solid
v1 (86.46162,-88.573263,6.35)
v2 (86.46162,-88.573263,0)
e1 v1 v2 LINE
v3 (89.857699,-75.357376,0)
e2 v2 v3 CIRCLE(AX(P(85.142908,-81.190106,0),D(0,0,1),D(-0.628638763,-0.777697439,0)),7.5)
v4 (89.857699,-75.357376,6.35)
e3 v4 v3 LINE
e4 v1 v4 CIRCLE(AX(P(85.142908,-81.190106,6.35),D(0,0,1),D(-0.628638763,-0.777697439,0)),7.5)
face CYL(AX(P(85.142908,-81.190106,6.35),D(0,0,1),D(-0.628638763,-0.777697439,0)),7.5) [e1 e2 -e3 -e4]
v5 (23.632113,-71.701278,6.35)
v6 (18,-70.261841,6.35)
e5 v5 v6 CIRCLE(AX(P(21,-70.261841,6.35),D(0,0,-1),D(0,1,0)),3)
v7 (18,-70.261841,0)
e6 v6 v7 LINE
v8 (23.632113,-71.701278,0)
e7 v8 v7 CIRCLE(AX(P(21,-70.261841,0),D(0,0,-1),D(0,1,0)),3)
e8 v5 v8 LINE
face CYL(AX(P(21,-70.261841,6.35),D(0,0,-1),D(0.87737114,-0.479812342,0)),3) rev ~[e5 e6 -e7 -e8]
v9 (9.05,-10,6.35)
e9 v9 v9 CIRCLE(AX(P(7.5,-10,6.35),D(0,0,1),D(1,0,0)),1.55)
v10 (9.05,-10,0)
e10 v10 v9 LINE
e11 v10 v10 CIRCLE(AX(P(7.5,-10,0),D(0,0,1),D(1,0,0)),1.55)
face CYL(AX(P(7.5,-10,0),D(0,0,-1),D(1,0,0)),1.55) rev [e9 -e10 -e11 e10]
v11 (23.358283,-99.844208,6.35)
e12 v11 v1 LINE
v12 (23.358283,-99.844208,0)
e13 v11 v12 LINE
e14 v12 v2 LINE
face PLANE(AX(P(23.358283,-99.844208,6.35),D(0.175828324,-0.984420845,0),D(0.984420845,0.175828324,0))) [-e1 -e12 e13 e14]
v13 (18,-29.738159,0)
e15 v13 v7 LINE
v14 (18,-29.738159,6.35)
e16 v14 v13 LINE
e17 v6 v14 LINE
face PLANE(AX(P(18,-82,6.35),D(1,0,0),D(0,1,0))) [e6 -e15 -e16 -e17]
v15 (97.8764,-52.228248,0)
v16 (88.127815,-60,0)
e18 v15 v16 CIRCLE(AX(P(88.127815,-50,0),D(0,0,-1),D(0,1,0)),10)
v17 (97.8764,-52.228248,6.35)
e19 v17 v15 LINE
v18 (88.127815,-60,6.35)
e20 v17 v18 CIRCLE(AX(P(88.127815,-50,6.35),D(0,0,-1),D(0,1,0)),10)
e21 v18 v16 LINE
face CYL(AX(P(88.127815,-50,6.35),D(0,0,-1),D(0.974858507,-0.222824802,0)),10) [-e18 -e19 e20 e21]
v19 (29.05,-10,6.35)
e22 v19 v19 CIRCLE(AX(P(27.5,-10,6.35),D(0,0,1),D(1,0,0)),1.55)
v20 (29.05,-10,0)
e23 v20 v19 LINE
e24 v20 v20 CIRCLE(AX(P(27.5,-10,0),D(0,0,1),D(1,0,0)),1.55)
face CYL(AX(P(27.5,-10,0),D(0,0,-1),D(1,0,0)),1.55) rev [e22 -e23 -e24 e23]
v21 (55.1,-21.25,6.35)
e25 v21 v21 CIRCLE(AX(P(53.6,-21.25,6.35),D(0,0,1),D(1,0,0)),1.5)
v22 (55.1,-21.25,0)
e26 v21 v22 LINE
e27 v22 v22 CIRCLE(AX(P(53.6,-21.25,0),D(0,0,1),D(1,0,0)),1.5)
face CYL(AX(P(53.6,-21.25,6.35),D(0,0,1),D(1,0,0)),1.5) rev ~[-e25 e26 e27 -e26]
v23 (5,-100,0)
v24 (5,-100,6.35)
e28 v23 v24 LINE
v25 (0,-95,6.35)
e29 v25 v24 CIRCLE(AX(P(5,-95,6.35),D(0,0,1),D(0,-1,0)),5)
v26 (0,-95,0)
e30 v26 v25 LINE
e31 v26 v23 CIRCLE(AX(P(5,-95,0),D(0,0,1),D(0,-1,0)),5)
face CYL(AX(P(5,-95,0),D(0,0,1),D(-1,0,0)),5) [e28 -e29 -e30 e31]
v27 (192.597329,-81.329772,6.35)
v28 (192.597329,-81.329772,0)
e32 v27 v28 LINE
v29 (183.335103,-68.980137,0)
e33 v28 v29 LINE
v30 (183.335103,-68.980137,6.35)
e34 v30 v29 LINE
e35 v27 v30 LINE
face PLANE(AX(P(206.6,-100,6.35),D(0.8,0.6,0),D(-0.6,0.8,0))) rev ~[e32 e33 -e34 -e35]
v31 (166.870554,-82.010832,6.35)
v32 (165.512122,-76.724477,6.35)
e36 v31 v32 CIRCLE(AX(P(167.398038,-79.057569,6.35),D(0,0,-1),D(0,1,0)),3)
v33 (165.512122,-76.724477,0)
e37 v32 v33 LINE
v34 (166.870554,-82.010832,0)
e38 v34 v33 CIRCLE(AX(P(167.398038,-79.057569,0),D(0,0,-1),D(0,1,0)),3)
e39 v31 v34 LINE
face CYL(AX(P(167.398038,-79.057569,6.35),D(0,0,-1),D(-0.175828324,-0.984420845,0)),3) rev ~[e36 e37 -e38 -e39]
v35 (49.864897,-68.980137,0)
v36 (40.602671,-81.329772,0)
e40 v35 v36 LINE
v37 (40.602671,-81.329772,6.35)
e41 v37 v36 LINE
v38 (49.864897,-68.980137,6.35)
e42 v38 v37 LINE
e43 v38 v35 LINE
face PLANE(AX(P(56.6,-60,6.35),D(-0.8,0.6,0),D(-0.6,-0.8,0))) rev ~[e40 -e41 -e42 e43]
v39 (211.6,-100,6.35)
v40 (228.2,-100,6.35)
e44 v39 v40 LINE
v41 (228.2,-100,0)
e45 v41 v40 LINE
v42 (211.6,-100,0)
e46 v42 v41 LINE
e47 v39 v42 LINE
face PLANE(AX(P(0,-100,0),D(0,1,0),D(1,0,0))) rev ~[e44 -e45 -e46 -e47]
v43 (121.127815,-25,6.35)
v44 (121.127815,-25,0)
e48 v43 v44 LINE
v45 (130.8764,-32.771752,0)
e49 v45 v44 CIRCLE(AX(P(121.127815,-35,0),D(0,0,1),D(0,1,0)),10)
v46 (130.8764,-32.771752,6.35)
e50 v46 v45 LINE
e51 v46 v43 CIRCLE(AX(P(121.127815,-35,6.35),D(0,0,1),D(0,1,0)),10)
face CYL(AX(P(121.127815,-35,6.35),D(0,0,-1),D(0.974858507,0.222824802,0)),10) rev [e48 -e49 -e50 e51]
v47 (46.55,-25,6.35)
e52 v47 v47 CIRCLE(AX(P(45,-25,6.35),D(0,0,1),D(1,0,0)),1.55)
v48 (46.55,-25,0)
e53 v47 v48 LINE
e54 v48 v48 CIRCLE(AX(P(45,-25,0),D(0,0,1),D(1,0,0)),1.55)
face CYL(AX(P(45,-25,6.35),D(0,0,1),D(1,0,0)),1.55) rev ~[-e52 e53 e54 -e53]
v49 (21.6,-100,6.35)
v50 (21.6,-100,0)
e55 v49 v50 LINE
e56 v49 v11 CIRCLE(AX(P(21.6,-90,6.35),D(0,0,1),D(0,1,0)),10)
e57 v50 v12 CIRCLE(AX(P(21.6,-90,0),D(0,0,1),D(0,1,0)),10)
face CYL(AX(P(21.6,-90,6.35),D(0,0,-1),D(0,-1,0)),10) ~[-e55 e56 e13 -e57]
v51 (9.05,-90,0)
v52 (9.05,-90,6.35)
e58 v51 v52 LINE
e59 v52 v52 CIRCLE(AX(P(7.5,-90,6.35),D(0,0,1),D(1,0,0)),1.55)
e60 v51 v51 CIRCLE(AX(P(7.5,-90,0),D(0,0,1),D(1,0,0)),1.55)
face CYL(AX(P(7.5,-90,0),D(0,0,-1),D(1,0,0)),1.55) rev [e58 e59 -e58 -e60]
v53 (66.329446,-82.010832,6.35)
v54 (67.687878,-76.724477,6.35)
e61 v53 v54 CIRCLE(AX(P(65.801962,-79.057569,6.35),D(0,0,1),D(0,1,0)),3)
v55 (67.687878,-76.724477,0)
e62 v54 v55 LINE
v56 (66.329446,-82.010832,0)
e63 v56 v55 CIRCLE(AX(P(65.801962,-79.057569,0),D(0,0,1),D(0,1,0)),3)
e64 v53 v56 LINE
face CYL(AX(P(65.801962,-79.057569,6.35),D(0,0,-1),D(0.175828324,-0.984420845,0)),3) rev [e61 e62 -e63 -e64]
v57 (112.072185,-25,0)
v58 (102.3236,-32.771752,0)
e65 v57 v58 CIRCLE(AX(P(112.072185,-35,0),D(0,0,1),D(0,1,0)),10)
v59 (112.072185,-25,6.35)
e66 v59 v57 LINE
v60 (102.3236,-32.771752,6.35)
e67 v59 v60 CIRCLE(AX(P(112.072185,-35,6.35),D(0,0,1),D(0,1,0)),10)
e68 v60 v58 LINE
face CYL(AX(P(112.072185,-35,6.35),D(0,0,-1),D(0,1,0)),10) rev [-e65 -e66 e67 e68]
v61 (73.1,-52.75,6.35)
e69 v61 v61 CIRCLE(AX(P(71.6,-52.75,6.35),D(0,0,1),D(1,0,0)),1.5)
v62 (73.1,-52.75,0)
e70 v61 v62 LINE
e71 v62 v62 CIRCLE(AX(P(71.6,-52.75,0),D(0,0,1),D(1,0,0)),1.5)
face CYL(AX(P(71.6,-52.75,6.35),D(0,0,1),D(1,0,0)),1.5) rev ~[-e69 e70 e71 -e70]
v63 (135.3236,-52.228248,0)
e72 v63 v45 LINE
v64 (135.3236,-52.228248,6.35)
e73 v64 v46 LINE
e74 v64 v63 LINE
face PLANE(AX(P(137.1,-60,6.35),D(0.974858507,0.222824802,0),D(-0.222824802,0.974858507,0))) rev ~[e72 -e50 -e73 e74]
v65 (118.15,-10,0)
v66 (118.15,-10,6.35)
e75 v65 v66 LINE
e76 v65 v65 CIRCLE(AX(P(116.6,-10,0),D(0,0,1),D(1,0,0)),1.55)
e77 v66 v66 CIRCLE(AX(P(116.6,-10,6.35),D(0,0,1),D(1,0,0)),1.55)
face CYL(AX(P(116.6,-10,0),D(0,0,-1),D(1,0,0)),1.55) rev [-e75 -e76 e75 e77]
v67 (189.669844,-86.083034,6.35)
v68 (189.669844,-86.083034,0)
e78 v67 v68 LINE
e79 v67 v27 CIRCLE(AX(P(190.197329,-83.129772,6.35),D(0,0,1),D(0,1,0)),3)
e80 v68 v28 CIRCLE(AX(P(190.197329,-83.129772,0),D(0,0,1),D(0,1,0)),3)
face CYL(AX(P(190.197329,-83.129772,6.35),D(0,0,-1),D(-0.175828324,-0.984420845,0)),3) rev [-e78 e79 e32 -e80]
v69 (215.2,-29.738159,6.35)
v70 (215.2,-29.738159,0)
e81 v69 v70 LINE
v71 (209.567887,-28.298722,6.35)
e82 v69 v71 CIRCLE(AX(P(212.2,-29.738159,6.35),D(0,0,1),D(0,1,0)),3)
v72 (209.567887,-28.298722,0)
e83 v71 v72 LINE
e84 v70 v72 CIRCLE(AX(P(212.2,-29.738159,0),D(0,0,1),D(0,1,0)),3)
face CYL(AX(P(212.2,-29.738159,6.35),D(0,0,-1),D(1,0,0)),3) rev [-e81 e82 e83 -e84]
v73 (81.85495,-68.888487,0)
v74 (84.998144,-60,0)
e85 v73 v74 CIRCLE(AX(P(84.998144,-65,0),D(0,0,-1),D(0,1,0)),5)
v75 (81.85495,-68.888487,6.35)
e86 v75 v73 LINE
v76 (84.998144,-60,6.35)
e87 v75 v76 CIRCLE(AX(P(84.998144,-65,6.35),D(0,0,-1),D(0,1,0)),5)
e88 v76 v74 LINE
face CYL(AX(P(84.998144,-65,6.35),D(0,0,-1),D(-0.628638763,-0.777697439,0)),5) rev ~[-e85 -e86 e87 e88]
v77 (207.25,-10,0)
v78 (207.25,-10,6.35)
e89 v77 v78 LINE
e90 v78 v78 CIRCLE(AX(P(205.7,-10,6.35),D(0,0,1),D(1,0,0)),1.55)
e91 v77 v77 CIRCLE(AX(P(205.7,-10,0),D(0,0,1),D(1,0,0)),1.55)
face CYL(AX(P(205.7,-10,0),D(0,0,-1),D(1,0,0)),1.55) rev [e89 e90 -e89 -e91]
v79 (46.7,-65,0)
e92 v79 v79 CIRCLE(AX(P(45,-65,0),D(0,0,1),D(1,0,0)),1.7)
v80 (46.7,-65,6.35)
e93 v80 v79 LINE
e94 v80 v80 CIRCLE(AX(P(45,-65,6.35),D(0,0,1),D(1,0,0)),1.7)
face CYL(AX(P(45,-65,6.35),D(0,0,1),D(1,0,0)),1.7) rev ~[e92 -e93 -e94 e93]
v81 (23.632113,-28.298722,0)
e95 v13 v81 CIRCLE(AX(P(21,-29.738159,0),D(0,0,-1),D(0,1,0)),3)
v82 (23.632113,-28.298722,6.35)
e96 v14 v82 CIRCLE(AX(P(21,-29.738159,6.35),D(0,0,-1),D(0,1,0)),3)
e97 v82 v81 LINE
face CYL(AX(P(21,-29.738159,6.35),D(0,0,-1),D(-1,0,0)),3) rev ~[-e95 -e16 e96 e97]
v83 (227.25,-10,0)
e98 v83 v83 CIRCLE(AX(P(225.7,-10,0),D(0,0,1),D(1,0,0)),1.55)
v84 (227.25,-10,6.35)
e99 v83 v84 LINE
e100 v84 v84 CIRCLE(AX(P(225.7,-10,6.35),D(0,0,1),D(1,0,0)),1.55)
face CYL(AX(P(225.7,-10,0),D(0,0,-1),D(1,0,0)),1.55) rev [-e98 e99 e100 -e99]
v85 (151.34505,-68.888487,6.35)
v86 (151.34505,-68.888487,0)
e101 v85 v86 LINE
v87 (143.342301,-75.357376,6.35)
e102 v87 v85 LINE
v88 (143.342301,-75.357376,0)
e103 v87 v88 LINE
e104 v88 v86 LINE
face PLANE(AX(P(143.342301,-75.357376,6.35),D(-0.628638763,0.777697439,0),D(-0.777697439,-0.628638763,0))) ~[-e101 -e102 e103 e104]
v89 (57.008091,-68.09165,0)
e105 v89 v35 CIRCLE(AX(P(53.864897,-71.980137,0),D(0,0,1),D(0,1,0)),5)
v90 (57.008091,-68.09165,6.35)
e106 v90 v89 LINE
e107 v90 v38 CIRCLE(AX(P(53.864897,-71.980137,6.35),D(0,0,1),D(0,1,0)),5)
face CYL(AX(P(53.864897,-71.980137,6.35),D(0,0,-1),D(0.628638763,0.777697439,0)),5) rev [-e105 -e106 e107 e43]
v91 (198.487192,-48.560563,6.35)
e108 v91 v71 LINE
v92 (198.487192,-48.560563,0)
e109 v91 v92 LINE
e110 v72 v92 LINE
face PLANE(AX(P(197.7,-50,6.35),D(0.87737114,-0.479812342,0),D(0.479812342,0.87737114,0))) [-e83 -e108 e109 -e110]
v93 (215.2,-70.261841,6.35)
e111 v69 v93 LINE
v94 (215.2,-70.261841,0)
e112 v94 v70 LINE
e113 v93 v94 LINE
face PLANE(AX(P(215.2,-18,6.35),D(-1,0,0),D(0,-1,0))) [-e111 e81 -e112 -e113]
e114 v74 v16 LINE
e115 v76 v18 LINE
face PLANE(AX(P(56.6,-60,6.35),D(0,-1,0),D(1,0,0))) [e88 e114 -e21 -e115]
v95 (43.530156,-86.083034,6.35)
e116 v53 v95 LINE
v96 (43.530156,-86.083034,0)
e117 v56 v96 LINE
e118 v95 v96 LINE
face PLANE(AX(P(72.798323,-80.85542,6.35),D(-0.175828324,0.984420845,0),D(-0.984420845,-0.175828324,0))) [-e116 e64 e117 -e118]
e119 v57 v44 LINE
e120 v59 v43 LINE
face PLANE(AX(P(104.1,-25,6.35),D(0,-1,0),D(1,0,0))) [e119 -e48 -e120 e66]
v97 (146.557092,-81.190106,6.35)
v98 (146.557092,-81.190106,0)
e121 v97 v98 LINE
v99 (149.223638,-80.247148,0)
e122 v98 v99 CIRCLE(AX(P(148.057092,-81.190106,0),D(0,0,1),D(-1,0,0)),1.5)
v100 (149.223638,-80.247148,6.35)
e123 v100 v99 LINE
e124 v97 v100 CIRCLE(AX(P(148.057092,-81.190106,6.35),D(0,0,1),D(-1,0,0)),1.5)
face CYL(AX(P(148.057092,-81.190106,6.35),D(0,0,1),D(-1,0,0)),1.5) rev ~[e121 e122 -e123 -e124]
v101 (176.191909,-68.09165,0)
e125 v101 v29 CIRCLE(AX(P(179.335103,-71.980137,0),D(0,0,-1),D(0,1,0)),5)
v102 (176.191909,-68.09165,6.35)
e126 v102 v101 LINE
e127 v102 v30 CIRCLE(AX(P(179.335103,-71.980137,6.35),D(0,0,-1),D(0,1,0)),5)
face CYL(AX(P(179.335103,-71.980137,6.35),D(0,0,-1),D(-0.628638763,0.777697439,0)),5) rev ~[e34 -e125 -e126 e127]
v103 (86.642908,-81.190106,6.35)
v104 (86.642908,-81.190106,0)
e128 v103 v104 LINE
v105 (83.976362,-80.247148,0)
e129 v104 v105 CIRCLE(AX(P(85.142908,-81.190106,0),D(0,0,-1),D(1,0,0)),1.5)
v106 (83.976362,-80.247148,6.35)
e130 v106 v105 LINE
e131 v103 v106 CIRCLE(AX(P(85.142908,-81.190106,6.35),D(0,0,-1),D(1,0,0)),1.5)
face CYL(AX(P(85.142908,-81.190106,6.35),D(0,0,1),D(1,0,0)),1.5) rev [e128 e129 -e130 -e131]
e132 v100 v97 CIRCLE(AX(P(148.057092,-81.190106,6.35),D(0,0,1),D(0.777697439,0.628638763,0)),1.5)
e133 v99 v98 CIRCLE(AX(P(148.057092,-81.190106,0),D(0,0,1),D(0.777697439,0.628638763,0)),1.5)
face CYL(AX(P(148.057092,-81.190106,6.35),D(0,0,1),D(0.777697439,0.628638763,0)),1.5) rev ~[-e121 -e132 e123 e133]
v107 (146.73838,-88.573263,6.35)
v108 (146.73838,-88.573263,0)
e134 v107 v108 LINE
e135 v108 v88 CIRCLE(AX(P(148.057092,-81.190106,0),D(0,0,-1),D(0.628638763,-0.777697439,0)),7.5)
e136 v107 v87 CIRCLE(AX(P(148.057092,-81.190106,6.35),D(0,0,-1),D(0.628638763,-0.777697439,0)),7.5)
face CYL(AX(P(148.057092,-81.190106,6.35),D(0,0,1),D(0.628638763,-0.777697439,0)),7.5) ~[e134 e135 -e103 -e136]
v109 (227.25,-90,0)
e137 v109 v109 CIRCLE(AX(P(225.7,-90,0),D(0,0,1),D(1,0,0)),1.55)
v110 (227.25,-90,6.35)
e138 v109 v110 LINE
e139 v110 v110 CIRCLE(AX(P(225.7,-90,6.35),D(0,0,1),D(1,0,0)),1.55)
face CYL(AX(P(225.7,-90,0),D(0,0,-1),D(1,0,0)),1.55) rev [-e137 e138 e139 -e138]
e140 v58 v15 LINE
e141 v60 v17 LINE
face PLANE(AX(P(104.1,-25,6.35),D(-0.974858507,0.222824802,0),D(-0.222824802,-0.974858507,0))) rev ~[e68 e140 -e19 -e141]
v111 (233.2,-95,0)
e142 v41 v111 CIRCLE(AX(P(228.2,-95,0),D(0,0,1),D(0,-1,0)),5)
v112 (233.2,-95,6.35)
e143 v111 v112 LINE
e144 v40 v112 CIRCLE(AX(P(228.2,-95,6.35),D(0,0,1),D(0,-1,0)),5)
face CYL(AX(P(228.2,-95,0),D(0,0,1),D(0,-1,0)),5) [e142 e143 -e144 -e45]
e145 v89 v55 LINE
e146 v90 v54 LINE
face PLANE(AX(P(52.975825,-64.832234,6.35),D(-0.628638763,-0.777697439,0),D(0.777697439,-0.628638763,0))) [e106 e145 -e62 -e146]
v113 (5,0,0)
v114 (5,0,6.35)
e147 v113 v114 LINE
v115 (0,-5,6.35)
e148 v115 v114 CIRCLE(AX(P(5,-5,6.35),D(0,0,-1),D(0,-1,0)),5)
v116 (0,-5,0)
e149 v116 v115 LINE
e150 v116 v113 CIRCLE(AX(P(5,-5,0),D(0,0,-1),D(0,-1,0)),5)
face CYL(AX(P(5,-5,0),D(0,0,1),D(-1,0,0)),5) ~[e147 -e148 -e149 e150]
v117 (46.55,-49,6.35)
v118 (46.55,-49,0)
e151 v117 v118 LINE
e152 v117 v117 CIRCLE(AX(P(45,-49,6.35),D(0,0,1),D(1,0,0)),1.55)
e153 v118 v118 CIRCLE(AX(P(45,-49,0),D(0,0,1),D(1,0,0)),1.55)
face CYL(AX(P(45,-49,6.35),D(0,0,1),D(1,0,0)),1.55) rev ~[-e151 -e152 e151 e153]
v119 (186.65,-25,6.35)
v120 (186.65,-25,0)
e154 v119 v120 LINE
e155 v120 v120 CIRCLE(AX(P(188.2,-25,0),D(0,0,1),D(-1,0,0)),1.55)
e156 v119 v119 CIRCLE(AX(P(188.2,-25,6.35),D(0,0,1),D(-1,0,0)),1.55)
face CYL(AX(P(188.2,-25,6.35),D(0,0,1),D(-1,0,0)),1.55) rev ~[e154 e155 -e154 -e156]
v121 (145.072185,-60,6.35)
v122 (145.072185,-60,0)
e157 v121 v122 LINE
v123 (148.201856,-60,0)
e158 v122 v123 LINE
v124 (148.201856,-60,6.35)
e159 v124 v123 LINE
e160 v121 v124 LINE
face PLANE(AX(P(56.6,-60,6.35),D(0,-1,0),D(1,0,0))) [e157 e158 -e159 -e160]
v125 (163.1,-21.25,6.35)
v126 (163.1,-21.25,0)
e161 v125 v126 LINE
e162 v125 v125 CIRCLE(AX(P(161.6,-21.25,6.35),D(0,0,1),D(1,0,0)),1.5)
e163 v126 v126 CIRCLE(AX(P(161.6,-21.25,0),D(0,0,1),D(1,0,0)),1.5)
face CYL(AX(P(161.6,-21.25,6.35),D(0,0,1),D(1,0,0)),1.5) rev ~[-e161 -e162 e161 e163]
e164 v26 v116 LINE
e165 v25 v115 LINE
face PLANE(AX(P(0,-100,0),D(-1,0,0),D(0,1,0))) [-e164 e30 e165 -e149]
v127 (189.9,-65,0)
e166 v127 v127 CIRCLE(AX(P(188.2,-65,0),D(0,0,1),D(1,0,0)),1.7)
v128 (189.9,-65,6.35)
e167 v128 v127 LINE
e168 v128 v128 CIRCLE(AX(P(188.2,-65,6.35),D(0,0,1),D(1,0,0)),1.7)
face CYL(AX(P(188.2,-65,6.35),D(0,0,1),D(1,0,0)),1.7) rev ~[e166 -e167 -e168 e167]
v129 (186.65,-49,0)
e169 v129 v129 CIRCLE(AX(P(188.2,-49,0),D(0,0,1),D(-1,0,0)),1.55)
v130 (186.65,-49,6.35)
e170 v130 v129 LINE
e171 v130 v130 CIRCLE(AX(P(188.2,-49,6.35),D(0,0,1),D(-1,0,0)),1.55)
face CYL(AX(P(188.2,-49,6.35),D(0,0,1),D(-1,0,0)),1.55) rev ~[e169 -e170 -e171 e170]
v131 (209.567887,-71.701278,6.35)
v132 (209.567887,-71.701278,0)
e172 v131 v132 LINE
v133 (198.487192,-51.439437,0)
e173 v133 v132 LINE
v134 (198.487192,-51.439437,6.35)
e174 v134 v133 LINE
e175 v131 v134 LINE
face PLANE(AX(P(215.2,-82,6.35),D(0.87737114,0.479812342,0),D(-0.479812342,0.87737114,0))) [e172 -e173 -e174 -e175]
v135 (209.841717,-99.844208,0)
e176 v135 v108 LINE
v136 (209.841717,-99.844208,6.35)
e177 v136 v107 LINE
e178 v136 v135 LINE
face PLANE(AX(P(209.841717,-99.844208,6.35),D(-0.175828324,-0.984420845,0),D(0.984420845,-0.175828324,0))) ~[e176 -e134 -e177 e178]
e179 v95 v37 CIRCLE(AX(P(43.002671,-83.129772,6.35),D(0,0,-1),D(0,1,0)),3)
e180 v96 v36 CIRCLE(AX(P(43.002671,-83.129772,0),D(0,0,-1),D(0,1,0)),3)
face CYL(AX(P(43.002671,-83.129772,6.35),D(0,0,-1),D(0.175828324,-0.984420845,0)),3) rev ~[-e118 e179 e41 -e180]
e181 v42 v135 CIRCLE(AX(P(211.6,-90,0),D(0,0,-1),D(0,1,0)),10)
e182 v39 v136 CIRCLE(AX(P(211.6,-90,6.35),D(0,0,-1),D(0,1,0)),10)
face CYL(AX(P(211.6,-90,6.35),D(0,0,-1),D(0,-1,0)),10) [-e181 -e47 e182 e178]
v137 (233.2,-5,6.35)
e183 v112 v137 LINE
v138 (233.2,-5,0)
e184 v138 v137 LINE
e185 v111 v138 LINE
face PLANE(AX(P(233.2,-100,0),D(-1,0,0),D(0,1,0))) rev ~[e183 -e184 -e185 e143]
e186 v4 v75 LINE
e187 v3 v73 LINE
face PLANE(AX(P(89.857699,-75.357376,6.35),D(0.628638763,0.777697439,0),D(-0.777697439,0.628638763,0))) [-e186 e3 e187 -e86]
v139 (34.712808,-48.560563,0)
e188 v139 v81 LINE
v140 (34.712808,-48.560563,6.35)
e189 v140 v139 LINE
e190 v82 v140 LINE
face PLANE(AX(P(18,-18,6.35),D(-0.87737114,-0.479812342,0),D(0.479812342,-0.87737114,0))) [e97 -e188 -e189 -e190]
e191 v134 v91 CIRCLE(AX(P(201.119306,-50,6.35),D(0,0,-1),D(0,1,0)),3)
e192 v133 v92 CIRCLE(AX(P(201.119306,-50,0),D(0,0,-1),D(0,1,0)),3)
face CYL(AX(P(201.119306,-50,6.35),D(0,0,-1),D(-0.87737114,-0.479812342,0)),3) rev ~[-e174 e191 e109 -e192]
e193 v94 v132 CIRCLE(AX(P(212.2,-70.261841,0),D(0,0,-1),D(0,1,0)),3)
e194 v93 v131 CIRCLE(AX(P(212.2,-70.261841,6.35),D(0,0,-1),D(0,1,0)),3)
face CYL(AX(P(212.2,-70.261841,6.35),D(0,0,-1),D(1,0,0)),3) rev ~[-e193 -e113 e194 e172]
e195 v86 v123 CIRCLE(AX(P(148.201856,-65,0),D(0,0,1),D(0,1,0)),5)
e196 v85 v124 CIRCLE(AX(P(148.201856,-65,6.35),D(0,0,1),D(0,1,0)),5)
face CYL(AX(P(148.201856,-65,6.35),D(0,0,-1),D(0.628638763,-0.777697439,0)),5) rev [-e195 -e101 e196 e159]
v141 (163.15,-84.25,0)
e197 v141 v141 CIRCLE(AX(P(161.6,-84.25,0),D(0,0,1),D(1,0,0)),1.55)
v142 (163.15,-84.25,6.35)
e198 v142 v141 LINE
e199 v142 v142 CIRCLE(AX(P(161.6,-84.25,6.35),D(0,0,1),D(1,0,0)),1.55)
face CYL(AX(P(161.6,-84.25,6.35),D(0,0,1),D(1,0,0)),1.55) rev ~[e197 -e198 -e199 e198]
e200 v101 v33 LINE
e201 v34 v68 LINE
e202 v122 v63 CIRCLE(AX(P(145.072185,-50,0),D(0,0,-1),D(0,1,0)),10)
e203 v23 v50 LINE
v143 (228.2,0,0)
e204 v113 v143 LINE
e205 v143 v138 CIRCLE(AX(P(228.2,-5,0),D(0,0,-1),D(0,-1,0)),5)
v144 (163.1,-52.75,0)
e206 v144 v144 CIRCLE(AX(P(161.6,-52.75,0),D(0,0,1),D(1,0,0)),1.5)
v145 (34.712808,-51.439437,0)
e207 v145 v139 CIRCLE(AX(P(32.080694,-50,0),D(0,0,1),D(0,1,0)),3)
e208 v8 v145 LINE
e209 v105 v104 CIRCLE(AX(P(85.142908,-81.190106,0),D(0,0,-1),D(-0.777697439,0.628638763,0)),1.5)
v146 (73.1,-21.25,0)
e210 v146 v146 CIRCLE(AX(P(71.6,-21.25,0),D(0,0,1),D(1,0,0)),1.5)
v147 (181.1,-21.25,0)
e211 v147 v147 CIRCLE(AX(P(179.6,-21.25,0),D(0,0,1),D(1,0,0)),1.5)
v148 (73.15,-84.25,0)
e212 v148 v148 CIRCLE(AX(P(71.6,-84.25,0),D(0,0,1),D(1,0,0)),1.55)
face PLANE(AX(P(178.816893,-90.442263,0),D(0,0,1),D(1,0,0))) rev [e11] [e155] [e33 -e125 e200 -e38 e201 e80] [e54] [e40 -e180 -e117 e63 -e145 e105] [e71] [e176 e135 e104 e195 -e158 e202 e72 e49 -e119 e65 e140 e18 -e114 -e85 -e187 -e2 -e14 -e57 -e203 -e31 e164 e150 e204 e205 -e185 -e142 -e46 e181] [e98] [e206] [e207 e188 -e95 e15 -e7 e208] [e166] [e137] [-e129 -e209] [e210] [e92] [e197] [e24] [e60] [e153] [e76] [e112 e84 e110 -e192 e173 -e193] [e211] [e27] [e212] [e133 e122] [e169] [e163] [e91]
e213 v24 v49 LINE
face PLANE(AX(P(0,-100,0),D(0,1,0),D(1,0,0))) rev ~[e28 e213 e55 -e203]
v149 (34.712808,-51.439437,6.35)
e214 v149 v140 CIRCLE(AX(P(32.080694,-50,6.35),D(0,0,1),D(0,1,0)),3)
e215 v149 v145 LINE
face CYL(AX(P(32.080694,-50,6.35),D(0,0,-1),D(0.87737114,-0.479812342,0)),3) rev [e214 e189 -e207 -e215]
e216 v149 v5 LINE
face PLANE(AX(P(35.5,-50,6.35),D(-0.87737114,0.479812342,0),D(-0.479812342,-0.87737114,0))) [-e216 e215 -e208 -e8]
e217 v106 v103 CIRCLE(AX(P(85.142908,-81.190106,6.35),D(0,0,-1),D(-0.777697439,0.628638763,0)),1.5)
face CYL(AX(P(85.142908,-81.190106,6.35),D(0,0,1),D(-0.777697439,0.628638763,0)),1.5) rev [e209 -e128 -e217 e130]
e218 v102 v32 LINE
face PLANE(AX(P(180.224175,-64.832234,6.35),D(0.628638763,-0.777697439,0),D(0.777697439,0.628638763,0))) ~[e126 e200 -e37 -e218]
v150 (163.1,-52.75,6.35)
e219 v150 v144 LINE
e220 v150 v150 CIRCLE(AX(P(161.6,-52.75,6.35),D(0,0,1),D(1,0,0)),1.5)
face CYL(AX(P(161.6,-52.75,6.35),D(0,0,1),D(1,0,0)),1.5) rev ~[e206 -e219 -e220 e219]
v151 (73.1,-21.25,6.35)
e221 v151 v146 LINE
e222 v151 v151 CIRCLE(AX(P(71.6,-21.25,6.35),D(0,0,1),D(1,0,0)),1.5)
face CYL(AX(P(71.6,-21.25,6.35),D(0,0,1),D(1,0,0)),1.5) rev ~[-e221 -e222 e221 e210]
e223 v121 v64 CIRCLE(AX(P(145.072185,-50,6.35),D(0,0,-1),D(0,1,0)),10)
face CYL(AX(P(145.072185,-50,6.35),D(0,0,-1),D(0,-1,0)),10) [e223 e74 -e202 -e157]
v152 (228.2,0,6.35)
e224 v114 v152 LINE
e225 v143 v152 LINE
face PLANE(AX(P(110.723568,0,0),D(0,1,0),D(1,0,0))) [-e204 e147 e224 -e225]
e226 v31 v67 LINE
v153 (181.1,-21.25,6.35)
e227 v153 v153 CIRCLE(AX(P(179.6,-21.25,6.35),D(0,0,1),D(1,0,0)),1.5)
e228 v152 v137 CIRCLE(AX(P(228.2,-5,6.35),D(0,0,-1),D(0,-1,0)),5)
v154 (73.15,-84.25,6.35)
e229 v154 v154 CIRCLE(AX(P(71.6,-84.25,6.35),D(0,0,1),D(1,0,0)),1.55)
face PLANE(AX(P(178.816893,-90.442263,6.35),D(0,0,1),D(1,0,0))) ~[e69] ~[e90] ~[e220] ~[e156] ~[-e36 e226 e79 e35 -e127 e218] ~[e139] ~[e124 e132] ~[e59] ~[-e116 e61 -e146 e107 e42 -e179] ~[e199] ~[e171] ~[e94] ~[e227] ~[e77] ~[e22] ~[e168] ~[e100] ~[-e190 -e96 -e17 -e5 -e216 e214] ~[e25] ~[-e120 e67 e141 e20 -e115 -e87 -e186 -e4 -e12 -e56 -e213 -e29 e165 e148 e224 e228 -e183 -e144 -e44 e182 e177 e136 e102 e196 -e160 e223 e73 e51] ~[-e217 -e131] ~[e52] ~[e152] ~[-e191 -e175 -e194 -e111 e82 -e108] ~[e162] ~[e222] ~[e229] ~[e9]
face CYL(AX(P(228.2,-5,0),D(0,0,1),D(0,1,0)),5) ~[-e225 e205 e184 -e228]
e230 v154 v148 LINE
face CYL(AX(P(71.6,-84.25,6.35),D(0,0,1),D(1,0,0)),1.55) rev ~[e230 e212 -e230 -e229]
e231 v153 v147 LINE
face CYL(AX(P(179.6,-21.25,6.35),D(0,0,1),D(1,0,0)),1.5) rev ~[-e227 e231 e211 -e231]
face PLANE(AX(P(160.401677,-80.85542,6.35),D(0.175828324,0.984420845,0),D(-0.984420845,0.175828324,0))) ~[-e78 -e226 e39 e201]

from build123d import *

# Parameters (mm, degrees)
SKETCH1_W           = 233.2
SKETCH1_H           = 100
SKETCH1_R           = 1.55
BOSS_EXTRUDE1_DEPTH = 6.35
FILLET1_R           = 5
SKETCH2_R           = 1.55
CUT_EXTRUDE1_DEPTH  = 6.35
SKETCH3_W           = 10
SKETCH3_H           = 12.7
BOSS_EXTRUDE2_DEPTH = 6.35
FILLET2_R           = 5
FILLET3_R           = 10
FILLET4_R           = 2
FILLET5_R           = 20
FILLET6_R           = 5
CUT_EXTRUDE2_DEPTH  = 10
SKETCH5_W           = 120
SKETCH5_H           = 40
CUT_EXTRUDE4_DEPTH  = 10
SKETCH6_R           = 1.5
CUT_EXTRUDE5_DEPTH  = 10
FILLET7_R           = 10
SKETCH7_W           = 25
SKETCH7_H           = 35
CUT_EXTRUDE6_DEPTH  = 10
FILLET9_R           = 10
SKETCH8_R           = 1.5
CUT_EXTRUDE7_DEPTH  = 10
BOSS_EXTRUDE3_DEPTH = 6.35
FILLET10_R          = 5
BOSS_EXTRUDE4_DEPTH = 6.35
FILLET11_R          = 3
FILLET12_R          = 3
CUT_EXTRUDE8_DEPTH  = 10
FILLET13_R          = 3
CUT_EXTRUDE9_DEPTH  = 10
SKETCH13_R          = 1.55
CUT_EXTRUDE10_DEPTH = 10


with BuildPart() as part:
    # Sketch1 → Boss-Extrude1 (new body)
    with BuildSketch(Plane.XY):
        with Locations((116.6, -50)):
            Rectangle(SKETCH1_W, SKETCH1_H)
        with Locations((7.5, -10)):
            Circle(SKETCH1_R, mode=Mode.SUBTRACT)
        with Locations((225.7, -10)):
            Circle(SKETCH1_R, mode=Mode.SUBTRACT)
        with Locations((7.5, -90)):
            Circle(SKETCH1_R, mode=Mode.SUBTRACT)
        with Locations((225.7, -90)):
            Circle(SKETCH1_R, mode=Mode.SUBTRACT)
        with Locations((27.5, -10)):
            Circle(SKETCH1_R, mode=Mode.SUBTRACT)
        with Locations((205.7, -10)):
            Circle(SKETCH1_R, mode=Mode.SUBTRACT)
        with Locations((116.6, -10)):
            Circle(SKETCH1_R, mode=Mode.SUBTRACT)
    extrude(amount=BOSS_EXTRUDE1_DEPTH)

    # Fillet1
    fillet1_edges = [part.edges().sort_by_distance(p)[0] for p in [
        (233.2, -100, 3.175),
        (0, -100, 3.175),
        (0, 0, 3.175),
        (233.2, 0, 3.175),
    ]]
    fillet(fillet1_edges, radius=FILLET1_R)

    # Sketch2 → Cut-Extrude1 (cut)
    with BuildSketch(Plane.XY.offset(6.35)):
        with Locations((45, -25)):
            Circle(SKETCH2_R)
        with Locations((45, -49)):
            Circle(SKETCH2_R)
        with Locations(Location((188.2, -49, 0), (0, 0, 180))):
            Circle(SKETCH2_R)
        with Locations(Location((188.2, -25, 0), (0, 0, 180))):
            Circle(SKETCH2_R)
    extrude(amount=-CUT_EXTRUDE1_DEPTH, mode=Mode.SUBTRACT)

    # Sketch3 → Boss-Extrude2 (add)
    with BuildSketch(Plane.XY.offset(6.35)):
        with Locations((125.723568259, 6.35)):
            Rectangle(SKETCH3_W, SKETCH3_H)
        Polygon((120.723568259, 16.7), (120.723568259, 12.7), (130.723568259, 12.7), (130.723568259, 24.7), (85.723568259, 24.7), (85.723568259, 12.7), (95.723568259, 12.7), (95.723568259, 16.7), align=None)
        Polygon((130.723568259, 12.7), (130.723568259, 0), (152.313568259, 0), (130.723568259, 24.7), align=None)
    extrude(amount=-BOSS_EXTRUDE2_DEPTH)

    # Fillet2
    fillet2_edges = [part.edges().sort_by_distance(p)[0] for p in [
        (85.723568259, 12.7, 3.175),
    ]]
    fillet(fillet2_edges, radius=FILLET2_R)

    # Fillet3
    fillet3_edges = [part.edges().sort_by_distance(p)[0] for p in [
        (120.723568259, 0, 3.175),
    ]]
    fillet(fillet3_edges, radius=FILLET3_R)

    # Fillet4
    fillet4_edges = [part.edges().sort_by_distance(p)[0] for p in [
        (85.723568259, 24.7, 3.175),
    ]]
    fillet(fillet4_edges, radius=FILLET4_R)

    # Fillet5
    fillet5_edges = [part.edges().sort_by_distance(p)[0] for p in [
        (130.723568259, 24.7, 3.175),
        (152.313568259, 0, 3.175),
    ]]
    fillet(fillet5_edges, radius=FILLET5_R)

    # Fillet6
    fillet6_edges = [part.edges().sort_by_distance(p)[0] for p in [
        (120.723568259, 16.7, 3.175),
    ]]
    fillet(fillet6_edges, radius=FILLET6_R)

    # Sketch4 → Cut-Extrude2 (cut)
    with BuildSketch(Plane(origin=(0, 0, 0), x_dir=(-1, 0, 0), z_dir=(0, 0, -1))):
        with BuildLine():
            Line((-110.723568259, 0), (-161.395157905, 0))
            ThreePointArc((-161.395157905, 0), (-153.126132222, 1.789475179), (-146.33682816, 6.837678575))
            Line((-146.33682816, 6.837678575), (-136.700308357, 17.862321425))
            ThreePointArc((-136.700308357, 17.862321425), (-129.911004296, 22.910524821), (-121.641978613, 24.7))
            Line((-121.641978613, 24.7), (-87.723568259, 24.7))
            ThreePointArc((-87.723568259, 24.7), (-86.309354696, 24.114213562), (-85.723568259, 22.7))
            Line((-85.723568259, 22.7), (-85.723568259, 17.7))
            ThreePointArc((-85.723568259, 17.7), (-87.188034353, 14.164466094), (-90.723568259, 12.7))
            Line((-90.723568259, 12.7), (-95.723568259, 12.7))
            Line((-95.723568259, 12.7), (-95.723568259, 16.7))
            Line((-95.723568259, 16.7), (-115.723568259, 16.7))
            ThreePointArc((-115.723568259, 16.7), (-119.259102165, 15.235533906), (-120.723568259, 11.7))
            Line((-120.723568259, 11.7), (-120.723568259, 10))
            ThreePointArc((-120.723568259, 10), (-117.794636071, 2.928932188), (-110.723568259, 0))
        make_face()
    extrude(amount=-CUT_EXTRUDE2_DEPTH, mode=Mode.SUBTRACT)

    # Sketch5 → Cut-Extrude4 (cut)
    with BuildSketch(Plane.XY.offset(6.35)):
        Polygon((56.6, -100), (56.6, -60), (26.6, -100), align=None)
        with Locations((116.6, -80)):
            Rectangle(SKETCH5_W, SKETCH5_H)
        Polygon((206.6, -100), (176.6, -60), (176.6, -100), align=None)
    extrude(amount=-CUT_EXTRUDE4_DEPTH, mode=Mode.SUBTRACT)

    # Sketch6 → Cut-Extrude5 (cut)
    with BuildSketch(Plane.XY.offset(6.35)):
        with Locations((71.6, -21.25)):
            Circle(SKETCH6_R)
        with Locations((161.6, -21.25)):
            Circle(SKETCH6_R)
        with Locations((161.6, -52.75)):
            Circle(SKETCH6_R)
        with Locations((71.6, -52.75)):
            Circle(SKETCH6_R)
    extrude(amount=-CUT_EXTRUDE5_DEPTH, mode=Mode.SUBTRACT)

    # Fillet7
    fillet7_edges = [part.edges().sort_by_distance(p)[0] for p in [
        (206.6, -100, 3.175),
        (26.6, -100, 3.175),
        (56.6, -60, 3.175),
        (176.6, -60, 3.175),
    ]]
    fillet(fillet7_edges, radius=FILLET7_R)

    # Sketch7 → Cut-Extrude6 (cut)
    with BuildSketch(Plane.XY.offset(6.35)):
        Polygon((96.1, -60), (104.1, -60), (104.1, -25), align=None)
        Polygon((129.1, -25), (129.1, -60), (137.1, -60), align=None)
        with Locations((116.6, -42.5)):
            Rectangle(SKETCH7_W, SKETCH7_H)
    extrude(amount=-CUT_EXTRUDE6_DEPTH, mode=Mode.SUBTRACT)

    # Fillet9
    fillet9_edges = [part.edges().sort_by_distance(p)[0] for p in [
        (137.1, -60, 3.175),
        (96.1, -60, 3.175),
        (104.1, -25, 3.175),
        (129.1, -25, 3.175),
    ]]
    fillet(fillet9_edges, radius=FILLET9_R)

    # Sketch8 → Cut-Extrude7 (cut)
    with BuildSketch(Plane.XY.offset(6.35)):
        with Locations((53.6, -21.25)):
            Circle(SKETCH8_R)
        with Locations((179.6, -21.25)):
            Circle(SKETCH8_R)
    extrude(amount=-CUT_EXTRUDE7_DEPTH, mode=Mode.SUBTRACT)

    # Sketch9 → Boss-Extrude3 (add)
    with BuildSketch(Plane.XY.offset(6.35)):
        with BuildLine():
            Line((53.6, -64), (52.97582451, -64.832233986))
            Line((52.97582451, -64.832233986), (80.428117061, -87.022837132))
            ThreePointArc((80.428117061, -87.022837132), (90.975638571, -85.904897064), (89.857698503, -75.357375554))
            Line((89.857698503, -75.357375554), (70.858883385, -60))
            Line((70.858883385, -60), (61.6, -60))
            ThreePointArc((61.6, -60), (57.127864045, -61.05572809), (53.6, -64))
        make_face()
        with BuildLine():
            ThreePointArc((83.976361625, -80.247148199), (85.642998156, -79.775924736), (86.642907782, -81.190106343))
            ThreePointArc((86.642907782, -81.190106343), (84.642817409, -82.60428795), (83.976361625, -80.247148199))
        make_face(mode=Mode.SUBTRACT)
    boss_extrude3 = extrude(amount=-BOSS_EXTRUDE3_DEPTH)

    # Mirror1: Boss-Extrude3 across plane
    add(boss_extrude3.mirror(Plane.ZY.offset(-116.6)))

    # Fillet10
    fillet10_edges = [part.edges().sort_by_distance(p)[0] for p in [
        (52.97582451, -64.832233986, 3.175),
        (70.858883385, -60, 3.175),
        (180.22417549, -64.832233986, 3.175),
        (162.341116615, -60, 3.175),
    ]]
    fillet(fillet10_edges, radius=FILLET10_R)

    # Sketch10 → Boss-Extrude4 (add)
    with BuildSketch(Plane.XY.offset(6.35)):
        with BuildLine():
            ThreePointArc((29.6, -96), (26.844092638, -98.514663376), (23.358283237, -99.844208453))
            Line((23.358283237, -99.844208453), (86.46162021, -88.573262682))
            ThreePointArc((86.46162021, -88.573262682), (83.276282006, -88.454107183), (80.428117061, -87.022837132))
            Line((80.428117061, -87.022837132), (72.798322589, -80.855419933))
            Line((72.798322589, -80.855419933), (36.033483436, -87.422022085))
            Line((36.033483436, -87.422022085), (29.6, -96))
        make_face()
    boss_extrude4 = extrude(amount=-BOSS_EXTRUDE4_DEPTH)

    # Fillet11
    fillet11_edges = [part.edges().sort_by_distance(p)[0] for p in [
        (36.033483436, -87.422022085, 3.175),
        (72.798322589, -80.855419933, 3.175),
    ]]
    fillet(fillet11_edges, radius=FILLET11_R)

    # Mirror3: Boss-Extrude4 across plane
    add(boss_extrude4.mirror(Plane.ZY.offset(-116.6)))

    # Fillet12
    fillet12_edges = [part.edges().sort_by_distance(p)[0] for p in [
        (197.166516564, -87.422022085, 3.175),
        (160.401677411, -80.855419933, 3.175),
    ]]
    fillet(fillet12_edges, radius=FILLET12_R)

    # Sketch11 → Cut-Extrude8 (cut)
    with BuildSketch(Plane.XY.offset(6.35)):
        Polygon((35.5, -50), (18, -82), (18, -18), align=None)
        Polygon((215.2, -18), (215.2, -82), (197.7, -50), align=None)
    extrude(amount=-CUT_EXTRUDE8_DEPTH, mode=Mode.SUBTRACT)

    # Fillet13
    fillet13_edges = [part.edges().sort_by_distance(p)[0] for p in [
        (35.5, -50, 3.175),
        (18, -82, 3.175),
        (18, -18, 3.175),
        (215.2, -18, 3.175),
        (215.2, -82, 3.175),
        (197.7, -50, 3.175),
    ]]
    fillet(fillet13_edges, radius=FILLET13_R)

    # Sketch12 → Cut-Extrude9 (cut)
    with BuildSketch(Plane.XY.offset(6.35)):
        with BuildLine():
            ThreePointArc((186.5, -65), (188.2, -66.7), (189.9, -65))
            ThreePointArc((189.9, -65), (188.2, -63.3), (186.5, -65))
        make_face()
        with BuildLine():
            ThreePointArc((43.3, -65), (45, -66.7), (46.7, -65))
            ThreePointArc((46.7, -65), (45, -63.3), (43.3, -65))
        make_face()
    extrude(amount=-CUT_EXTRUDE9_DEPTH, mode=Mode.SUBTRACT)

    # Sketch13 → Cut-Extrude10 (cut)
    with BuildSketch(Plane.XY.offset(6.35)):
        with Locations((161.599999999, -84.25)):
            Circle(SKETCH13_R)
        with Locations((71.6, -84.25)):
            Circle(SKETCH13_R)
    extrude(amount=-CUT_EXTRUDE10_DEPTH, mode=Mode.SUBTRACT)


solid = part.part
